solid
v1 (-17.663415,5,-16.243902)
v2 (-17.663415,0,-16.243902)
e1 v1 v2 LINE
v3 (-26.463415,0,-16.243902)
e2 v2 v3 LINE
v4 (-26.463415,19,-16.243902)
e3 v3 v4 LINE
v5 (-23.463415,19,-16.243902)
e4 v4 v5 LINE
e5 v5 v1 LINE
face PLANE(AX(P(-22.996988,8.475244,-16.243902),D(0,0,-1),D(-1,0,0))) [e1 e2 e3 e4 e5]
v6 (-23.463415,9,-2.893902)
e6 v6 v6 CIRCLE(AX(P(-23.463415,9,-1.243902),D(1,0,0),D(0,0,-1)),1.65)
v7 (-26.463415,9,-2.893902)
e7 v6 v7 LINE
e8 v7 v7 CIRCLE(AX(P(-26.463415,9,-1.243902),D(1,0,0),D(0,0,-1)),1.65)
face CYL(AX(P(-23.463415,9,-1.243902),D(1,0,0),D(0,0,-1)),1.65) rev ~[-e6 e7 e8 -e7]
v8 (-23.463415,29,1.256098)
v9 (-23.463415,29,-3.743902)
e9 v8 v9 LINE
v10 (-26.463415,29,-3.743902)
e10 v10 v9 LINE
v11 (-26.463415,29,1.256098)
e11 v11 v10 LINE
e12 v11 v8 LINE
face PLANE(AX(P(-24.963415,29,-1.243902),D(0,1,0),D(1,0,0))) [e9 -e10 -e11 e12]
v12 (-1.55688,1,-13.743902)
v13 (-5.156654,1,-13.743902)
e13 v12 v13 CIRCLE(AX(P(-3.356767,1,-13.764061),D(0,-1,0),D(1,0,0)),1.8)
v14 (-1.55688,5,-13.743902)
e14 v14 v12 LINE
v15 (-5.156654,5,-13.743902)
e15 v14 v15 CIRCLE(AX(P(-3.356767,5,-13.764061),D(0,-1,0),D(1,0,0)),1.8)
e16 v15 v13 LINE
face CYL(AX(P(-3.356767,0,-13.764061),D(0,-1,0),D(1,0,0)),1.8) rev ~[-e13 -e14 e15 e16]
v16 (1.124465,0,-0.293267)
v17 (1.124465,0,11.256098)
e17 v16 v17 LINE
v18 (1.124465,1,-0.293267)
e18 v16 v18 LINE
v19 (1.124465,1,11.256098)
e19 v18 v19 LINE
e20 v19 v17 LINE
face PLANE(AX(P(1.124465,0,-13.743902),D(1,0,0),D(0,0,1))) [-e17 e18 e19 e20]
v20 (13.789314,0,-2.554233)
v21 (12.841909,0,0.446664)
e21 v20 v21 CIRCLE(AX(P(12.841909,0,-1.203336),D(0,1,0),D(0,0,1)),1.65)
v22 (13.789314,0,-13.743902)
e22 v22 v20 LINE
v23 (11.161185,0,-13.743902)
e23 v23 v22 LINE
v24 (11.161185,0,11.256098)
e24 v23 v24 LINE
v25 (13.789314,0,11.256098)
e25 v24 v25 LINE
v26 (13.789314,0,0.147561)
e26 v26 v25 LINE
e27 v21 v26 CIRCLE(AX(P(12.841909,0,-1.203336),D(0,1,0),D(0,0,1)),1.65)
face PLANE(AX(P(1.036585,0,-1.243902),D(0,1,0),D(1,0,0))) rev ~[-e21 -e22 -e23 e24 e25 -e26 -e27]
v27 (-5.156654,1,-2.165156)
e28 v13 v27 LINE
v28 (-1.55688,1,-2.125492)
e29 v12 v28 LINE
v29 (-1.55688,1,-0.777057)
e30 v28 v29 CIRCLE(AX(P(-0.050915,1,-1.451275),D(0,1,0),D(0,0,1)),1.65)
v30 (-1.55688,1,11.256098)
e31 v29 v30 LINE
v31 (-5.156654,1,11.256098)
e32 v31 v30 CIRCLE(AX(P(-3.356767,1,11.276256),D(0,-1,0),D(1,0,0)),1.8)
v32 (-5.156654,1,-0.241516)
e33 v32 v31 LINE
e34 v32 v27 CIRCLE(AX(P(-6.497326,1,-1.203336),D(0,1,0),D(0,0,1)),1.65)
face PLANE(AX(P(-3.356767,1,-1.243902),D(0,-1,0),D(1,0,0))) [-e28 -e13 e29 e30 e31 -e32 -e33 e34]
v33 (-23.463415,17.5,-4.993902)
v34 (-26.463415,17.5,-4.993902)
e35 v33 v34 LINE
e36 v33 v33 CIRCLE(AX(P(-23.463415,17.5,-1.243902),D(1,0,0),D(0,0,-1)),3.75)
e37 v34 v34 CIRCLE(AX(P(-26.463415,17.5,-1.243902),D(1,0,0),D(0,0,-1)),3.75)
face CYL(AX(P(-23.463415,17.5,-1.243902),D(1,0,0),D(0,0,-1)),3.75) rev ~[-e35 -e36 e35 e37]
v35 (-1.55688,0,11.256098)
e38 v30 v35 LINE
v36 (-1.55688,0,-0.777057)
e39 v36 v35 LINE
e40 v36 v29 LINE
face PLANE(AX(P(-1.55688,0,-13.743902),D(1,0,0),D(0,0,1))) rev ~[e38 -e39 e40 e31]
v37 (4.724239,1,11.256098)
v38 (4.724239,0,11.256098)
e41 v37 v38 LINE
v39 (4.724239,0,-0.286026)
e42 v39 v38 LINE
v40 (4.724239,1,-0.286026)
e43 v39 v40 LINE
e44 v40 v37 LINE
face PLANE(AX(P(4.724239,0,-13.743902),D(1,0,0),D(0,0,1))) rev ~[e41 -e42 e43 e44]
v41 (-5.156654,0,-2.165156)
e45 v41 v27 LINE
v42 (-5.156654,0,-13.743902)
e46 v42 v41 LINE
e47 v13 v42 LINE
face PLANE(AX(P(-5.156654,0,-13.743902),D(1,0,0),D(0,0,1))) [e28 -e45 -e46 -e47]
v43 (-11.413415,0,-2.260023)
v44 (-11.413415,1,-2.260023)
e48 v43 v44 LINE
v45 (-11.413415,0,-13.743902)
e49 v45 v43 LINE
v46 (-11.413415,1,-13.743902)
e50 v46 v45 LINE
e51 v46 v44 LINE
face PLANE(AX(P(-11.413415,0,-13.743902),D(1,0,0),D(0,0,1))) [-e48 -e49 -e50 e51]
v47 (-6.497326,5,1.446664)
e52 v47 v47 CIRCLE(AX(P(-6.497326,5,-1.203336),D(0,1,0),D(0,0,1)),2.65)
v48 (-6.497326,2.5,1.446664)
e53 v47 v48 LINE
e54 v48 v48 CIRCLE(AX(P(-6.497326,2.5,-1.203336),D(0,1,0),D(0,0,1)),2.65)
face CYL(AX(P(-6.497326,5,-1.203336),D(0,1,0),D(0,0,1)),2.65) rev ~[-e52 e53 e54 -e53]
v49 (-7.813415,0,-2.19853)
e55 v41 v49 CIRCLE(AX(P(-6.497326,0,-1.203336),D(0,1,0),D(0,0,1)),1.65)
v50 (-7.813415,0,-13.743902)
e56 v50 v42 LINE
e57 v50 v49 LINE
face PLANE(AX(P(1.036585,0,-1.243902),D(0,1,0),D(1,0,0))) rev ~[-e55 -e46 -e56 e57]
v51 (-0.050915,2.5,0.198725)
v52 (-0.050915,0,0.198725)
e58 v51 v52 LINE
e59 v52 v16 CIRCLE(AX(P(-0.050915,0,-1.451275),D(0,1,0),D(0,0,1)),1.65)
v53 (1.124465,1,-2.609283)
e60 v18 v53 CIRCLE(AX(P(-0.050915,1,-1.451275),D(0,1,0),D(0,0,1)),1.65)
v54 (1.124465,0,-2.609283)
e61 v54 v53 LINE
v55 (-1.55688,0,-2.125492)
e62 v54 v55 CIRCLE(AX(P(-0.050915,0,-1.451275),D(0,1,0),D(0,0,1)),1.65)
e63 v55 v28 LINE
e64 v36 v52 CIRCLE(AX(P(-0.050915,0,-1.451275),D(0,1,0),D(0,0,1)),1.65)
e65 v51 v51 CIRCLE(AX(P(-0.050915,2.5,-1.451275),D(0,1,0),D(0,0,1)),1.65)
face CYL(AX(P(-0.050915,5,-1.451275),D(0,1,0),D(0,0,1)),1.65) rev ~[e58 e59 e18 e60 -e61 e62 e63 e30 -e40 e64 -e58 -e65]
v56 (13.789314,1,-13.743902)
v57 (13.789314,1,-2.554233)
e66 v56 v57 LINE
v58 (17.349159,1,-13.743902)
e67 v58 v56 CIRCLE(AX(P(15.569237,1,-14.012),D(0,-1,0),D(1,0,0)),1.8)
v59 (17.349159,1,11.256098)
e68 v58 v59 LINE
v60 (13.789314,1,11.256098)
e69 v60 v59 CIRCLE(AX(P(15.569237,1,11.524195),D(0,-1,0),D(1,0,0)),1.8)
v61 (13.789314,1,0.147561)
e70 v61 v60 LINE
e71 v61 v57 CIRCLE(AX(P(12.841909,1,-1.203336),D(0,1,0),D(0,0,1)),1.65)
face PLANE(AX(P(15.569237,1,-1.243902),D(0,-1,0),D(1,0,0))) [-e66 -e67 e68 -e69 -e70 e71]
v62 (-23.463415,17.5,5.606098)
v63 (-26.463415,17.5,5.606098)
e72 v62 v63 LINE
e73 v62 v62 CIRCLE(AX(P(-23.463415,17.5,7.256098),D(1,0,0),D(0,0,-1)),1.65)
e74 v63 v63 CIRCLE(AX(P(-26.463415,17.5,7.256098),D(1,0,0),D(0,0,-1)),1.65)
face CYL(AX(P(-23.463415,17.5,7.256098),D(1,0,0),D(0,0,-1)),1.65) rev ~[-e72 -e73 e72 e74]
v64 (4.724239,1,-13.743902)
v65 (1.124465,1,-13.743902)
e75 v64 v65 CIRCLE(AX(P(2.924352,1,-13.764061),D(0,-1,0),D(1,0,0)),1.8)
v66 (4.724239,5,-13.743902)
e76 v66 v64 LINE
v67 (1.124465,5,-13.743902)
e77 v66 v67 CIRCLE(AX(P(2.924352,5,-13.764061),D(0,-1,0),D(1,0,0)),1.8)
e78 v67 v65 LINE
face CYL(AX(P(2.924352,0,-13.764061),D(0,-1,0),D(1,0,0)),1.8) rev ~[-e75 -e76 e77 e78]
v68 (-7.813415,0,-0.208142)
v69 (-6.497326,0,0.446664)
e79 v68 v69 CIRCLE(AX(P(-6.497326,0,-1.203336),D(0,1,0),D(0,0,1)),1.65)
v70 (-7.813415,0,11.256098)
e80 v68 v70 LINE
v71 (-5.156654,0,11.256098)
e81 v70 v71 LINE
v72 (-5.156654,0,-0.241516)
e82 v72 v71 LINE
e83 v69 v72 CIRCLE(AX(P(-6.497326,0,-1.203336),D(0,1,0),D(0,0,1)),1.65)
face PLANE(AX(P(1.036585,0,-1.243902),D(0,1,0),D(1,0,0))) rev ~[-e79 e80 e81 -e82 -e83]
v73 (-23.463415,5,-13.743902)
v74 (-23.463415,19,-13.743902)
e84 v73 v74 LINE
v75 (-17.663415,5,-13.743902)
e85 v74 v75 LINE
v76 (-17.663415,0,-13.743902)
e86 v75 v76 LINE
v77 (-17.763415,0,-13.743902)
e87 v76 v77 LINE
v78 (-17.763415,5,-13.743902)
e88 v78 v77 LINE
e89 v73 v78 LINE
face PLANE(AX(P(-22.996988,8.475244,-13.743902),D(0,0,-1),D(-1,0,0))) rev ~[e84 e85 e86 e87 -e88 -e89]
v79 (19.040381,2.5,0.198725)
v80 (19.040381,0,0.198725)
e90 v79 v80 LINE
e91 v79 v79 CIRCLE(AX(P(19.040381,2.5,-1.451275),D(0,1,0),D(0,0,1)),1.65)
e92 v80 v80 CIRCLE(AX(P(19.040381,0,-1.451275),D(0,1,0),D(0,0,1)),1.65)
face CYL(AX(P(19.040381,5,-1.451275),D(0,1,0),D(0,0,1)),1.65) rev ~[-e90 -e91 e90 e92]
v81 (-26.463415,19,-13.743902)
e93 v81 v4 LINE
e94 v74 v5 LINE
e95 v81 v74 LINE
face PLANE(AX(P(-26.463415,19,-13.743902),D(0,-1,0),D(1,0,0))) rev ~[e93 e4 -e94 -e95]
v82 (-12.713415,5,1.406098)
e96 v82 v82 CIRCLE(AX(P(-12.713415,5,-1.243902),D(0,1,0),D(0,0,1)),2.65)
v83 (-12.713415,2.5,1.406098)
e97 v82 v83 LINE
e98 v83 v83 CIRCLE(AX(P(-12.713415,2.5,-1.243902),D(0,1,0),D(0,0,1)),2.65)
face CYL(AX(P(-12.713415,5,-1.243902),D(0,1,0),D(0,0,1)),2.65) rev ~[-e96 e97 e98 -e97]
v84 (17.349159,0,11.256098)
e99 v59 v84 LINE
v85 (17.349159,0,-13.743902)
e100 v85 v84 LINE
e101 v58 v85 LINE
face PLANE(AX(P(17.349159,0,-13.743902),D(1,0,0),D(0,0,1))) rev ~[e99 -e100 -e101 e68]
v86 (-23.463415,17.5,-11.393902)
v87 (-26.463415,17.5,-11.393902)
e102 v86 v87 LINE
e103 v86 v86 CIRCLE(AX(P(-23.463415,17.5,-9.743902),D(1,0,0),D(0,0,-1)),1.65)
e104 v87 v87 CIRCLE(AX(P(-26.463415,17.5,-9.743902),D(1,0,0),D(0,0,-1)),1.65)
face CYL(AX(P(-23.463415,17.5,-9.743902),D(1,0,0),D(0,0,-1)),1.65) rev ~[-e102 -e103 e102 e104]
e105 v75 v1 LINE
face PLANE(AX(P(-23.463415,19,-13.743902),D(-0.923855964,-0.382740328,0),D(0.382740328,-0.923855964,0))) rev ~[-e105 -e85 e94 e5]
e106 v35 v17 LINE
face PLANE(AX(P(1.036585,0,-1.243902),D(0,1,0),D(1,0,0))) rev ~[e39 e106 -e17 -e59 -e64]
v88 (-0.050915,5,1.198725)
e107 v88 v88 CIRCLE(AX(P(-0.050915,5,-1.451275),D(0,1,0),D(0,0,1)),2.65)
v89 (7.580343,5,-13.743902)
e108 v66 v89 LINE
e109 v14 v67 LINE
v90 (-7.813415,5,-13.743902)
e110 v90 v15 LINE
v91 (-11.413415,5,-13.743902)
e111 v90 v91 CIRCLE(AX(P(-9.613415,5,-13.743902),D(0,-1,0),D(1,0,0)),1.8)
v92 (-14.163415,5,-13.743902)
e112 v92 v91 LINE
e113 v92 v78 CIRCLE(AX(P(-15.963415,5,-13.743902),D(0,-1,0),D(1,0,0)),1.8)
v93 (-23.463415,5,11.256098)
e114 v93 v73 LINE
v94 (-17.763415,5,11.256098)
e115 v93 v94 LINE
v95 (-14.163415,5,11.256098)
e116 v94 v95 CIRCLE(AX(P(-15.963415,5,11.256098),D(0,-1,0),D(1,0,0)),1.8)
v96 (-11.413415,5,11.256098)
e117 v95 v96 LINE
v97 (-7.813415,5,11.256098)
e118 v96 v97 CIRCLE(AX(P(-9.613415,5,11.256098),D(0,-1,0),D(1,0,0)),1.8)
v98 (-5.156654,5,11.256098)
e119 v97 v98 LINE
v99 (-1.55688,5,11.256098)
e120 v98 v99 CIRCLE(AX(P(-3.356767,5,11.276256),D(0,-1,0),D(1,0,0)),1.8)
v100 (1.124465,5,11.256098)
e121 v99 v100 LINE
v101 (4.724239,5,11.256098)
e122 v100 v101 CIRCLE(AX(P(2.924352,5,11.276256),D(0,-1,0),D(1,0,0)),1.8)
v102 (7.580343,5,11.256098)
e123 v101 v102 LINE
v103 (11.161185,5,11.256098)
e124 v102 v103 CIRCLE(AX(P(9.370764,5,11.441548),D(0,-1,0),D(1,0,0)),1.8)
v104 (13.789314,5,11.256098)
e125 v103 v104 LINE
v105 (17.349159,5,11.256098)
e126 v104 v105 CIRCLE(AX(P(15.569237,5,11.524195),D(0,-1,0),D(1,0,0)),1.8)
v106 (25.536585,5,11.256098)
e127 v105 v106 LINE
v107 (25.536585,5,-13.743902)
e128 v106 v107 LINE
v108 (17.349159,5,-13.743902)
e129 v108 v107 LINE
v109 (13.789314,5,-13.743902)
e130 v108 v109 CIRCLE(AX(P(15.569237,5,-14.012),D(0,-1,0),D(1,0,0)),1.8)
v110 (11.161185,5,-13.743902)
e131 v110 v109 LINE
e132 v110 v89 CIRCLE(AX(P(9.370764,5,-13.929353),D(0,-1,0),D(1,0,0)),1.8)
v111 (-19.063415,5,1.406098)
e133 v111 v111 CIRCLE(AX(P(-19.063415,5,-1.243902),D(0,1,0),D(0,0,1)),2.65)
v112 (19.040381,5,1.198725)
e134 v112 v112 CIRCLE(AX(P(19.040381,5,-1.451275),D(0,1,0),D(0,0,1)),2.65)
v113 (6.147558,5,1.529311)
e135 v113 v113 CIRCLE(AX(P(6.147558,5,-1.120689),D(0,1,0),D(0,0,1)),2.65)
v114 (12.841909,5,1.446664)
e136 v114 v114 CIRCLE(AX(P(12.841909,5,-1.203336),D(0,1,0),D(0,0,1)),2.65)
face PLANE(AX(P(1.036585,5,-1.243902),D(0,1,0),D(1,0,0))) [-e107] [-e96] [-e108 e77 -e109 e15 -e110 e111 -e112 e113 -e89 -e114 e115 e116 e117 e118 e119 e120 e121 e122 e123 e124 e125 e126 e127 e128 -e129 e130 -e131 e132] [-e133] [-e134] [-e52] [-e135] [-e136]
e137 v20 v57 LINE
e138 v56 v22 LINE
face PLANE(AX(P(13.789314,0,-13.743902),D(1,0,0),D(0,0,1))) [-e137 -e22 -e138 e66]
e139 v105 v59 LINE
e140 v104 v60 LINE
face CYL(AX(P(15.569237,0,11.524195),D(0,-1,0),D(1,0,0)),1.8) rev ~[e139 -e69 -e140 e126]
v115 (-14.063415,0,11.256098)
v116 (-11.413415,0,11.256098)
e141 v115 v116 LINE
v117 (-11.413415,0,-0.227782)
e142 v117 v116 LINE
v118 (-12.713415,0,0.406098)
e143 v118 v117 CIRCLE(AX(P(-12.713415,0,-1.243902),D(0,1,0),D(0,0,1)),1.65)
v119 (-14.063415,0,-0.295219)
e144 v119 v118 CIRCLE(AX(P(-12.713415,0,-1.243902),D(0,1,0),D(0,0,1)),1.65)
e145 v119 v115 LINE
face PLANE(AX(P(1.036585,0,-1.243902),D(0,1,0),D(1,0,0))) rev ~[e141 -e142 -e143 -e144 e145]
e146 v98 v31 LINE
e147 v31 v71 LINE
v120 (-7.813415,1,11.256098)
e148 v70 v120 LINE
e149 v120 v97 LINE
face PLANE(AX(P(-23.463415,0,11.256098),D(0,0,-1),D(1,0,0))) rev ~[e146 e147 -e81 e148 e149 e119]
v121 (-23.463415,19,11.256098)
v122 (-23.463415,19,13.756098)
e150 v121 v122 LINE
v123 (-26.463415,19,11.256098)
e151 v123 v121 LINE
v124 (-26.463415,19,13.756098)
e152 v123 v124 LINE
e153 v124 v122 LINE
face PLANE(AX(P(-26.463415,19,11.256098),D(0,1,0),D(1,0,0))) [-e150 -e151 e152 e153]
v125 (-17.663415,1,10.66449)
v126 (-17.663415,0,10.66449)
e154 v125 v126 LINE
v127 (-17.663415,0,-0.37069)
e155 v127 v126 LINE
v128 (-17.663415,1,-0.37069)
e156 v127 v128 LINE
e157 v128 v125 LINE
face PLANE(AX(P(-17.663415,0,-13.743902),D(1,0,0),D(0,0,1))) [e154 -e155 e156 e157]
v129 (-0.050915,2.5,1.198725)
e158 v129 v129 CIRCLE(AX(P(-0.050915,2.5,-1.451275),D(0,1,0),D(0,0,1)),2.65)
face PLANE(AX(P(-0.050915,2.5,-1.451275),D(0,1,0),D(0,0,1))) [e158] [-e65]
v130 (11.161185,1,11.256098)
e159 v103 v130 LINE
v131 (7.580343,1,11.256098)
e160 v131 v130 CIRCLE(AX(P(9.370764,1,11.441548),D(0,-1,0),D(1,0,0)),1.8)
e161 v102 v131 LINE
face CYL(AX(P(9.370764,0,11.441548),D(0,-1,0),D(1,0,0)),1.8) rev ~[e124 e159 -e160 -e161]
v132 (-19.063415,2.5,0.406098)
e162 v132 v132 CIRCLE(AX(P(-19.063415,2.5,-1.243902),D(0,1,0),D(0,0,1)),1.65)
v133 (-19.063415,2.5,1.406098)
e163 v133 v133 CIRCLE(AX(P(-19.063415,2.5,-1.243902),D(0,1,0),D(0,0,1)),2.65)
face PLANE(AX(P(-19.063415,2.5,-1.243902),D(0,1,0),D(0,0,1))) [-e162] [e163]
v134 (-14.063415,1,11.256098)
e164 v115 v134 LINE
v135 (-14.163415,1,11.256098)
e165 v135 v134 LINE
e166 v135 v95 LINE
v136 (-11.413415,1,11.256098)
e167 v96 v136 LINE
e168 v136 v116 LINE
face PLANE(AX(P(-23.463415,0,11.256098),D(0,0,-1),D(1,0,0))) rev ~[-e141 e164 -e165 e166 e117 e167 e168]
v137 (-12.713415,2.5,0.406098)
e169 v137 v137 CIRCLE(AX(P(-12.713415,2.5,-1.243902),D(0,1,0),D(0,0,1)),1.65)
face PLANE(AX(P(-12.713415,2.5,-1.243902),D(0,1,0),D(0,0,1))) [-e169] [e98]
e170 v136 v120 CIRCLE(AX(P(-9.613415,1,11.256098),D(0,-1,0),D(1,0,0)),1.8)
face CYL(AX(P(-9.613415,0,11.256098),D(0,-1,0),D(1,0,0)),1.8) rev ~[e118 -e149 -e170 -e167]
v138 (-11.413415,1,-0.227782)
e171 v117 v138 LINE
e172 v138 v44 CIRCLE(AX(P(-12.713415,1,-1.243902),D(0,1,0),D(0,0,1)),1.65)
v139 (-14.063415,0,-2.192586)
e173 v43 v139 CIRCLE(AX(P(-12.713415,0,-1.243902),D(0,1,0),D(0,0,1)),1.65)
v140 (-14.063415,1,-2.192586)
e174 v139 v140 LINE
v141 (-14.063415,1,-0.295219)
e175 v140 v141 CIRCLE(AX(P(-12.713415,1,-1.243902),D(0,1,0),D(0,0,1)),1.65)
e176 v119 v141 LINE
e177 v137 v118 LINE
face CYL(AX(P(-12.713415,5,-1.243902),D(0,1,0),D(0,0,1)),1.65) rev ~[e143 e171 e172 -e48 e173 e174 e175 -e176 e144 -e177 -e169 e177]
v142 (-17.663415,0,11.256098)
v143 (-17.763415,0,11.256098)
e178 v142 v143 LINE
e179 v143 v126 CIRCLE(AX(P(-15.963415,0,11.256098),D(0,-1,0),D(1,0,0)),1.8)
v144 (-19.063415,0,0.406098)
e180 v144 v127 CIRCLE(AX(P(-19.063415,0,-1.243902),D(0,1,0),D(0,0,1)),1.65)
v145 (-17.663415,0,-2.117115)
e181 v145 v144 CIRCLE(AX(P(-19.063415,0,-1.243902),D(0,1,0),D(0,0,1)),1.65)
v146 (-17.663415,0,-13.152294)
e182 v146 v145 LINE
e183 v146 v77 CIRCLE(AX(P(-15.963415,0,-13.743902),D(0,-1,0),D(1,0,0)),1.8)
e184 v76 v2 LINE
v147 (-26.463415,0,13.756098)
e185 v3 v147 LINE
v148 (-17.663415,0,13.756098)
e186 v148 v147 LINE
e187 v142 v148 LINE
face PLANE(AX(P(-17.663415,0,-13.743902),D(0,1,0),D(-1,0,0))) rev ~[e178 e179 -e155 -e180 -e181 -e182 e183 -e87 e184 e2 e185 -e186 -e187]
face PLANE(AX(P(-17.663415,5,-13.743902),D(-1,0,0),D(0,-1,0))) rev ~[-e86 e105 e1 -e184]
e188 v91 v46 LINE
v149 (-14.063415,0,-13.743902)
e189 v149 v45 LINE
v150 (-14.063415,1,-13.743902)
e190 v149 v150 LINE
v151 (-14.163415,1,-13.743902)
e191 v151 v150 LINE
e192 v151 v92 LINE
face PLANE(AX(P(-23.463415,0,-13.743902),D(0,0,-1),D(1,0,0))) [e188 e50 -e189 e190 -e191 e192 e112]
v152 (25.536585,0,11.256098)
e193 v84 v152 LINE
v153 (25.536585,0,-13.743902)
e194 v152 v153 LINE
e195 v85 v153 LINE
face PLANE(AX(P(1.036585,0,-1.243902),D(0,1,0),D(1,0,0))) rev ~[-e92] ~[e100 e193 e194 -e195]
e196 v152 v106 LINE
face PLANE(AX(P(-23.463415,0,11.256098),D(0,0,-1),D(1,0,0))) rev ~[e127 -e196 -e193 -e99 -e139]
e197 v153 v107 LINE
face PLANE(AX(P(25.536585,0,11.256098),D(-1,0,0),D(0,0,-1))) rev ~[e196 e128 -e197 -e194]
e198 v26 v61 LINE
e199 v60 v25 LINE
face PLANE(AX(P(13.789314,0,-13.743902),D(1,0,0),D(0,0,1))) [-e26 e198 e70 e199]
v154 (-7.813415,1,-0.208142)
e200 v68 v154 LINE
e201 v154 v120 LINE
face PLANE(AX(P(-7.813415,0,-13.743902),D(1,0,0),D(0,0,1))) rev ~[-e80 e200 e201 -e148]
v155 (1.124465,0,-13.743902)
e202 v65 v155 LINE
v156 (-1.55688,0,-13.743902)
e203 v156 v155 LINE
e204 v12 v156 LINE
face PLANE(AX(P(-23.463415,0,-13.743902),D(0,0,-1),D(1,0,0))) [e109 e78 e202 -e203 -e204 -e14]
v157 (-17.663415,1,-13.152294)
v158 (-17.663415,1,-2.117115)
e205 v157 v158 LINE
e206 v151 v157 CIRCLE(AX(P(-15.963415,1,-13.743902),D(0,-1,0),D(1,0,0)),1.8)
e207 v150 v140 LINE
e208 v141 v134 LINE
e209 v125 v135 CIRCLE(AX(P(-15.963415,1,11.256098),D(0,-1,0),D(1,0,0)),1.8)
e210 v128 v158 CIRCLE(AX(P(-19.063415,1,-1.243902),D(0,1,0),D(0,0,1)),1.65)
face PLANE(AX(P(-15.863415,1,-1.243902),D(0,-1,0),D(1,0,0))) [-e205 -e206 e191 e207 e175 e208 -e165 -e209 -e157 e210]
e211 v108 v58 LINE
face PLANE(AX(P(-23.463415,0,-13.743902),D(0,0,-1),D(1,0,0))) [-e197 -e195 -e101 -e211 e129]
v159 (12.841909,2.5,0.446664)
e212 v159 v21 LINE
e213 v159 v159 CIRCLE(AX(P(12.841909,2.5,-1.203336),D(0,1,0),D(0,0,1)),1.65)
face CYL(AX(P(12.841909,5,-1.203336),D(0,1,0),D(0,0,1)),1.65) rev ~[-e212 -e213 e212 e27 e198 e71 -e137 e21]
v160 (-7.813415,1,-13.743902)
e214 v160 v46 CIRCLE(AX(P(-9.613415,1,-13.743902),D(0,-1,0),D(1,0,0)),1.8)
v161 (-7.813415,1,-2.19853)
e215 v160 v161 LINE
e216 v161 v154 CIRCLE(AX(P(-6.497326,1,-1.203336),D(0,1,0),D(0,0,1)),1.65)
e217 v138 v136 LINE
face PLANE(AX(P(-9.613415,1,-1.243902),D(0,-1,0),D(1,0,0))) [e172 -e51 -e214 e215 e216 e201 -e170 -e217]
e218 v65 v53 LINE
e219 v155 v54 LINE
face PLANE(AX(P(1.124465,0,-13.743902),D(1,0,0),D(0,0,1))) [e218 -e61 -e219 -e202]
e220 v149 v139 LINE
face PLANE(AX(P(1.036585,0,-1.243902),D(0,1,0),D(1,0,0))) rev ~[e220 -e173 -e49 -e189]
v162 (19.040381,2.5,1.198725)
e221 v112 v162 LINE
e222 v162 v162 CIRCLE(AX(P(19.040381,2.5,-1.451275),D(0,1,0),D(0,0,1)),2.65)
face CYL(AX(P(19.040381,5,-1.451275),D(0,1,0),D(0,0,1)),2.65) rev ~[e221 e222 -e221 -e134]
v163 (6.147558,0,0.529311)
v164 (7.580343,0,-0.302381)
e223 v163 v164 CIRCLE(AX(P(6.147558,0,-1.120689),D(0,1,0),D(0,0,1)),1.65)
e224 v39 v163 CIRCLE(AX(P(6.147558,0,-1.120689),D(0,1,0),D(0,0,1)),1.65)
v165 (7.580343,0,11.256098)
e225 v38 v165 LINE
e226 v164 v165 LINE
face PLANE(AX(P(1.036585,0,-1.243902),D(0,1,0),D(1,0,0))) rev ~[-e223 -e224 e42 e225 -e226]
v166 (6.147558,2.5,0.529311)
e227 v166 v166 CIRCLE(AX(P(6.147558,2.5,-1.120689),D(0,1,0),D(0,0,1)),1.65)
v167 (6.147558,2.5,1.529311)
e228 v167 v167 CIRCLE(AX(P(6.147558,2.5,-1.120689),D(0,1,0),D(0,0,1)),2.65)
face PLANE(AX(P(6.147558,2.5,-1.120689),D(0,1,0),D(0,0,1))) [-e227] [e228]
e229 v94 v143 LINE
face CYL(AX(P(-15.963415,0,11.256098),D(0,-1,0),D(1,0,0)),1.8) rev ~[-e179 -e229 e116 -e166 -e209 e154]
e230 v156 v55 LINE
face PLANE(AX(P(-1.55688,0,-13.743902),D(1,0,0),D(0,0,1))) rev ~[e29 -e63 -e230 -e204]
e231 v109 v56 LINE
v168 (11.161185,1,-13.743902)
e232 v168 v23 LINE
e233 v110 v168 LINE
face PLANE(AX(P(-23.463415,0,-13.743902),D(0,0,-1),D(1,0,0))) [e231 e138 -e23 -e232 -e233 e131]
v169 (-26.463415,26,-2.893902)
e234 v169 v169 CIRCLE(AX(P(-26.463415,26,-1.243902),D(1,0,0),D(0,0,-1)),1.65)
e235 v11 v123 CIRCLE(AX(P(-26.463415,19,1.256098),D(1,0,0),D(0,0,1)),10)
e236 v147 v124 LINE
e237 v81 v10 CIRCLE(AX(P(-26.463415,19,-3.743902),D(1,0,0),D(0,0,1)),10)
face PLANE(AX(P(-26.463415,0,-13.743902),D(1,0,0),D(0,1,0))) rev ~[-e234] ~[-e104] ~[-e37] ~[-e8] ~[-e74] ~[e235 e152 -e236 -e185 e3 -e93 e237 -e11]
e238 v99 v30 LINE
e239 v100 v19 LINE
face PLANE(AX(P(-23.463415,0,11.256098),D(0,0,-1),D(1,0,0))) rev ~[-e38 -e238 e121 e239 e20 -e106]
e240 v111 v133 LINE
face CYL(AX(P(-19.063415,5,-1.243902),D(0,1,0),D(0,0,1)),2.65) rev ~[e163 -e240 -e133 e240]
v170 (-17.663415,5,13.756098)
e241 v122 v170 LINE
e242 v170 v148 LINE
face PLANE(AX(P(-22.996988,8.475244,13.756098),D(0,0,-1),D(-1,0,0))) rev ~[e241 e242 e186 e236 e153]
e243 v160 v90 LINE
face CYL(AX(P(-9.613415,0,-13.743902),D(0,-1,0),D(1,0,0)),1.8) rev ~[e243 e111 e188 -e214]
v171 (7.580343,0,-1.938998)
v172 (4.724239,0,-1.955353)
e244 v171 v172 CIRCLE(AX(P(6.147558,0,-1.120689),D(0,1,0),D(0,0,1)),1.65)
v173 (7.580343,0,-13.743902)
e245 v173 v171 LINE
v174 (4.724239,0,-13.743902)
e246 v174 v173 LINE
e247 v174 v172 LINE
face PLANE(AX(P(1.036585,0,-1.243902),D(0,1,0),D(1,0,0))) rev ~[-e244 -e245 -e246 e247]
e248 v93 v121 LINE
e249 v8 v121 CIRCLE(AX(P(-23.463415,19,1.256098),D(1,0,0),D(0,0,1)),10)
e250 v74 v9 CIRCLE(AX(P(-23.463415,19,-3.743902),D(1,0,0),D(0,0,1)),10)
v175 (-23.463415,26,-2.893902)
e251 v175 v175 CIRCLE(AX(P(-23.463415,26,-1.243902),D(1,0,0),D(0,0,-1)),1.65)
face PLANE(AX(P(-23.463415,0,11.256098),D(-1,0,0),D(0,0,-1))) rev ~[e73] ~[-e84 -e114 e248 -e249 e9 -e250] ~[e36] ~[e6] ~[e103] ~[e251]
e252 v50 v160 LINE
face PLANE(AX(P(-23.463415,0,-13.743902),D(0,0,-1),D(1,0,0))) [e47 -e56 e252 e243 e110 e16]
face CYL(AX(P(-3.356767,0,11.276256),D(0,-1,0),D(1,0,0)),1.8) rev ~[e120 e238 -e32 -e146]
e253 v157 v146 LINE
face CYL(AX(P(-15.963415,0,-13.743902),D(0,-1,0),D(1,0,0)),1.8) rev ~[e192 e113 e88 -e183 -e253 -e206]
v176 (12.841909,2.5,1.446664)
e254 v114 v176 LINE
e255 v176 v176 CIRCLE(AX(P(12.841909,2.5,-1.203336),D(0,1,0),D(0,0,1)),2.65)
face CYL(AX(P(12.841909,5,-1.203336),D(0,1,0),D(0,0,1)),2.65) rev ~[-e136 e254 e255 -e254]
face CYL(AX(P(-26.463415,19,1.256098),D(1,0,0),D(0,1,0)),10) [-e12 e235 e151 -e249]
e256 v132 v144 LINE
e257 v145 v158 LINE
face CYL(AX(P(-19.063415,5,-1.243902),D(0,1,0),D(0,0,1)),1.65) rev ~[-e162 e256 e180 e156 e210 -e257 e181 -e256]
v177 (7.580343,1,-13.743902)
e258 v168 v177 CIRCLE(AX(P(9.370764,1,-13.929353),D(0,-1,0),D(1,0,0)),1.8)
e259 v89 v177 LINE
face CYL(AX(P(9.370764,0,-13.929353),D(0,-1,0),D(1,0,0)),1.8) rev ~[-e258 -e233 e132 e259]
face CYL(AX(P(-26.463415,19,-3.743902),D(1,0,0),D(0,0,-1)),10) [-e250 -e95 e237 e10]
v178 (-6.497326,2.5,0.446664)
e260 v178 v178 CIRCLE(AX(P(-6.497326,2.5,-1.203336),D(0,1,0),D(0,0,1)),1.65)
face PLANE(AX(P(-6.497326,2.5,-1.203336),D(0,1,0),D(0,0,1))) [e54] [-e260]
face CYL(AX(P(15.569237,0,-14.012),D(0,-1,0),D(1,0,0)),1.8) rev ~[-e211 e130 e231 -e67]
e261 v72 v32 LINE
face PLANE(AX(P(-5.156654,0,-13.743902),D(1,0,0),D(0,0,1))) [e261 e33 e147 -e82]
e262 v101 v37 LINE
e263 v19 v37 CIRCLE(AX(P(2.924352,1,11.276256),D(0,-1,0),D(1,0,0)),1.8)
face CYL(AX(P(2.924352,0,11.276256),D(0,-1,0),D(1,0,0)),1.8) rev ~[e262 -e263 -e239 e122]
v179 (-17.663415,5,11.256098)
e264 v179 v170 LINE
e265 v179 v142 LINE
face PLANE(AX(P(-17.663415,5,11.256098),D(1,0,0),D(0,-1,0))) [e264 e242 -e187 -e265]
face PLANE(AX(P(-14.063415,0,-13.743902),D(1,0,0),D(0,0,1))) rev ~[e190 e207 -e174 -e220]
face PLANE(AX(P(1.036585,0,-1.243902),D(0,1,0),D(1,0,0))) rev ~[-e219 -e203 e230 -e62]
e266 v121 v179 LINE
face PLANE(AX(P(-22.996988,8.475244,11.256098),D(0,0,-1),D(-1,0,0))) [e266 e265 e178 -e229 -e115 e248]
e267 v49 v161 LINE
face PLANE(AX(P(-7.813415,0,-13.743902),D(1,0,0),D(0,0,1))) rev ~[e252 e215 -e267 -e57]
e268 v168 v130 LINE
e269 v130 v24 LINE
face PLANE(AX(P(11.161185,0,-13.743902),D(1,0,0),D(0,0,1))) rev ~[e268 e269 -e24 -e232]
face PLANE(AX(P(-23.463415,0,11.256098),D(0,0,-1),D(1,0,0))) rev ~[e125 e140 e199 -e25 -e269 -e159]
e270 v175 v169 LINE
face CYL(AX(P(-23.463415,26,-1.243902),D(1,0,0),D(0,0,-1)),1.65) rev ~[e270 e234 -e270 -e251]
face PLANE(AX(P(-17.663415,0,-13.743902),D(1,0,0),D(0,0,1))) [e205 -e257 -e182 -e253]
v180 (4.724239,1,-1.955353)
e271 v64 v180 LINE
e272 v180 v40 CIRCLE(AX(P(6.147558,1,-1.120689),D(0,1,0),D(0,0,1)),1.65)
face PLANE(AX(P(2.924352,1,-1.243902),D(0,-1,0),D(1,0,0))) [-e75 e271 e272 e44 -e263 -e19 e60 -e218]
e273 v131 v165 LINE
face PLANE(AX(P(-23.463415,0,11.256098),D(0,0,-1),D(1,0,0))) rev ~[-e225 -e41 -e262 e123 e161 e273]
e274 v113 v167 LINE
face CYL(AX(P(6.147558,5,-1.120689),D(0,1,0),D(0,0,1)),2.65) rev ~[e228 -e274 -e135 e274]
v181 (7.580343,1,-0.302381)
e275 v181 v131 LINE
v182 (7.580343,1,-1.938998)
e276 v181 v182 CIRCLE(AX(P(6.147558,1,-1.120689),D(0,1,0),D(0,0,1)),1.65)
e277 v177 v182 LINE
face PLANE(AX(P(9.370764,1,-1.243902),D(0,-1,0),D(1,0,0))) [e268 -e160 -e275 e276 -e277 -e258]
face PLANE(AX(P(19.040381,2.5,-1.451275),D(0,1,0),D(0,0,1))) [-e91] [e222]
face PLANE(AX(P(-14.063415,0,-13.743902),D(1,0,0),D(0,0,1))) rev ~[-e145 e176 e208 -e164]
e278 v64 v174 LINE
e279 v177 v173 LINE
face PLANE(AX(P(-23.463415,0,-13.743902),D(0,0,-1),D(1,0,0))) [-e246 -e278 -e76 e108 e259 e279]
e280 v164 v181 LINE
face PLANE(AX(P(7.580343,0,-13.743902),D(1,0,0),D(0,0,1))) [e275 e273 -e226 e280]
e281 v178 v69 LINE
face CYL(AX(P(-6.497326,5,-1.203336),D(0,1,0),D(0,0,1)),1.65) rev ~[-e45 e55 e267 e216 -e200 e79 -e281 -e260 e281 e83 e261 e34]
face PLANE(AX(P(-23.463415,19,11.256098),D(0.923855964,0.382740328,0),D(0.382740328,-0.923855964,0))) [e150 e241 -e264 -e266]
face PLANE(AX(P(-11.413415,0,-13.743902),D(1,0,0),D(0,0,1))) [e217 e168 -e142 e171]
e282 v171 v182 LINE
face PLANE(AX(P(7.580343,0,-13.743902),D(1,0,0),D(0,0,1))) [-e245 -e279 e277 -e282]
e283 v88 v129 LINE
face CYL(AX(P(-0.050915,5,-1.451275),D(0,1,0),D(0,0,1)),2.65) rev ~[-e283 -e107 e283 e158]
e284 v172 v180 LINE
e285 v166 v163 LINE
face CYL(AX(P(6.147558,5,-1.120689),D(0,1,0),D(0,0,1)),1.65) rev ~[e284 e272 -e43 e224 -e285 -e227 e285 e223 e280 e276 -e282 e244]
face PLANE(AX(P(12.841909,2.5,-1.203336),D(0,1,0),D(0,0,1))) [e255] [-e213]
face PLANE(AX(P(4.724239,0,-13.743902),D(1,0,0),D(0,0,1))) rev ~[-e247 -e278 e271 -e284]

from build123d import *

# Parameters (mm, degrees)
ESBO_O1_W                = 3
ESBO_O1_H                = 25
RESSALTO_EXTRUS_O2_DEPTH = 29
ESBO_O1_4_W              = 49
ESBO_O1_4_H              = 25
RESSALTO_EXTRUS_O3_DEPTH = 5
FILETE2_R                = 10
FILETE3_R                = 10
ESBO_O8_R                = 1.65
CORTE_EXTRUS_O5_DEPTH    = 5
ESBO_O9_R                = 1.8
CORTE_EXTRUS_O6_DEPTH    = 5
ESBO_O10_W               = 3.6
ESBO_O10_H               = 25
ESBO_O10_W_2             = 3.599774239
ESBO_O10_W_3             = 3.58084234
ESBO_O10_W_4             = 3.559844881
CORTE_EXTRUS_O7_DEPTH    = 1
ESBO_O11_R               = 2.65
CORTE_EXTRUS_O8_DEPTH    = 2.5
ESBO_O6_R                = 3.75
ESBO_O6_R_2              = 1.65
CORTE_EXTRUS_O9_DEPTH    = 10
RESSALTO_EXTRUS_O4_DEPTH = 2.5
RESSALTO_EXTRUS_O5_DEPTH = 2.5


with BuildPart() as part:
    # Esboço1 → Ressalto-extrusão2 (new body)
    with BuildSketch(Plane(origin=(0, 0, 0), x_dir=(1, 0, 0), z_dir=(0, 1, 0))):
        with Locations((-24.963414634, 1.243902439)):
            Rectangle(ESBO_O1_W, ESBO_O1_H)
    extrude(amount=RESSALTO_EXTRUS_O2_DEPTH)

    # Esboço1<4> → Ressalto-extrusão3 (add)
    with BuildSketch(Plane(origin=(0, 0, 0), x_dir=(1, 0, 0), z_dir=(0, 1, 0))):
        with Locations((1.036585366, 1.243902439)):
            Rectangle(ESBO_O1_4_W, ESBO_O1_4_H)
    extrude(amount=RESSALTO_EXTRUS_O3_DEPTH)

    # Filete2
    filete2_edges = [part.edges().sort_by_distance(p)[0] for p in [
        (-24.963414634, 29, -13.743902439),
    ]]
    fillet(filete2_edges, radius=FILETE2_R)

    # Filete3
    filete3_edges = [part.edges().sort_by_distance(p)[0] for p in [
        (-24.963414634, 29, 11.256097561),
    ]]
    fillet(filete3_edges, radius=FILETE3_R)

    # Esboço8 → Corte-extrusão5 (cut)
    with BuildSketch(Plane(origin=(0, 5, 0), x_dir=(1, 0, 0), z_dir=(0, 1, 0))):
        with Locations((-19.063414634, 1.243902439)):
            Circle(ESBO_O8_R)
        with Locations((-12.713414634, 1.243902439)):
            Circle(ESBO_O8_R)
        with Locations((-6.497326215, 1.203335799)):
            Circle(ESBO_O8_R)
        with Locations((-0.050914634, 1.451274706)):
            Circle(ESBO_O8_R)
        with Locations((6.147558039, 1.120689497)):
            Circle(ESBO_O8_R)
        with Locations((12.841908527, 1.203335799)):
            Circle(ESBO_O8_R)
        with Locations((19.040381201, 1.451274706)):
            Circle(ESBO_O8_R)
    extrude(amount=-CORTE_EXTRUS_O5_DEPTH, mode=Mode.SUBTRACT)

    # Esboço9 → Corte-extrusão6 (cut)
    with BuildSketch(Plane.XZ):
        with Locations((-15.963414634, 11.256097561)):
            Circle(ESBO_O9_R)
        with Locations((-9.613414634, 11.256097561)):
            Circle(ESBO_O9_R)
        with Locations((-3.356766727, 11.27625585)):
            Circle(ESBO_O9_R)
        with Locations((2.924352249, 11.27625585)):
            Circle(ESBO_O9_R)
        with Locations((9.37076383, 11.441548455)):
            Circle(ESBO_O9_R)
        with Locations((15.569236503, 11.524194757)):
            Circle(ESBO_O9_R)
        with Locations((15.569236503, -14.011999635)):
            Circle(ESBO_O9_R)
        with Locations((9.37076383, -13.929353333)):
            Circle(ESBO_O9_R)
        with Locations((2.924352249, -13.764060728)):
            Circle(ESBO_O9_R)
        with Locations((-3.356766727, -13.764060728)):
            Circle(ESBO_O9_R)
        with Locations((-9.613414634, -13.743902439)):
            Circle(ESBO_O9_R)
        with Locations((-15.963414634, -13.743902439)):
            Circle(ESBO_O9_R)
    extrude(amount=-CORTE_EXTRUS_O6_DEPTH, mode=Mode.SUBTRACT)

    # Esboço10 → Corte-extrusão7 (cut)
    with BuildSketch(Plane.XZ):
        with Locations((-15.863414634, -1.243902439)):
            Rectangle(ESBO_O10_W, ESBO_O10_H)
        with Locations((-9.613414634, -1.243902439)):
            Rectangle(ESBO_O10_W, ESBO_O10_H)
        with Locations((-3.356766727, -1.243902439)):
            Rectangle(ESBO_O10_W_2, ESBO_O10_H)
        with Locations((2.92435225, -1.243902439)):
            Rectangle(ESBO_O10_W_2, ESBO_O10_H)
        with Locations((9.37076383, -1.243902439)):
            Rectangle(ESBO_O10_W_3, ESBO_O10_H)
        with Locations((15.569236504, -1.243902439)):
            Rectangle(ESBO_O10_W_4, ESBO_O10_H)
    extrude(amount=-CORTE_EXTRUS_O7_DEPTH, mode=Mode.SUBTRACT)

    # Esboço11 → Corte-extrusão8 (cut)
    with BuildSketch(Plane(origin=(0, 5, 0), x_dir=(1, 0, 0), z_dir=(0, 1, 0))):
        with Locations((-19.063414634, 1.243902439)):
            Circle(ESBO_O11_R)
        with Locations((-12.713414634, 1.243902439)):
            Circle(ESBO_O11_R)
        with Locations((-6.497326215, 1.203335799)):
            Circle(ESBO_O11_R)
        with Locations((-0.050914634, 1.451274706)):
            Circle(ESBO_O11_R)
        with Locations((6.147558039, 1.120689497)):
            Circle(ESBO_O11_R)
        with Locations((12.841908527, 1.203335799)):
            Circle(ESBO_O11_R)
        with Locations((19.040381201, 1.451274706)):
            Circle(ESBO_O11_R)
    extrude(amount=-CORTE_EXTRUS_O8_DEPTH, mode=Mode.SUBTRACT)

    # Esboço6 → Corte-extrusão9 (cut)
    with BuildSketch(Plane(origin=(-23.463414634, 0, 0), x_dir=(0, 0, -1), z_dir=(1, 0, 0))):
        with Locations((1.243902439, 17.5)):
            Circle(ESBO_O6_R)
        with Locations((9.743902439, 17.5)):
            Circle(ESBO_O6_R_2)
        with Locations((-7.256097561, 17.5)):
            Circle(ESBO_O6_R_2)
        with Locations((1.243902439, 26)):
            Circle(ESBO_O6_R_2)
        with Locations((1.243902439, 9)):
            Circle(ESBO_O6_R_2)
    extrude(amount=-CORTE_EXTRUS_O9_DEPTH, mode=Mode.SUBTRACT)

    # Esboço29 → Ressalto-extrusão4 (add)
    with BuildSketch(Plane.XY.offset(11.256097561)):
        Polygon((-23.463414634, 19), (-17.663414634, 5), (-17.663414634, 0), (-26.463414634, 0), (-26.463414634, 19), align=None)
    extrude(amount=RESSALTO_EXTRUS_O4_DEPTH)

    # Esboço30 → Ressalto-extrusão5 (add)
    with BuildSketch(Plane(origin=(0, 0, -13.743902439), x_dir=(-1, 0, 0), z_dir=(0, 0, -1))):
        Polygon((23.463414634, 19), (17.663414634, 5), (17.663414634, 0), (26.463414634, 0), (26.463414634, 19), align=None)
    extrude(amount=RESSALTO_EXTRUS_O5_DEPTH)


solid = part.part
